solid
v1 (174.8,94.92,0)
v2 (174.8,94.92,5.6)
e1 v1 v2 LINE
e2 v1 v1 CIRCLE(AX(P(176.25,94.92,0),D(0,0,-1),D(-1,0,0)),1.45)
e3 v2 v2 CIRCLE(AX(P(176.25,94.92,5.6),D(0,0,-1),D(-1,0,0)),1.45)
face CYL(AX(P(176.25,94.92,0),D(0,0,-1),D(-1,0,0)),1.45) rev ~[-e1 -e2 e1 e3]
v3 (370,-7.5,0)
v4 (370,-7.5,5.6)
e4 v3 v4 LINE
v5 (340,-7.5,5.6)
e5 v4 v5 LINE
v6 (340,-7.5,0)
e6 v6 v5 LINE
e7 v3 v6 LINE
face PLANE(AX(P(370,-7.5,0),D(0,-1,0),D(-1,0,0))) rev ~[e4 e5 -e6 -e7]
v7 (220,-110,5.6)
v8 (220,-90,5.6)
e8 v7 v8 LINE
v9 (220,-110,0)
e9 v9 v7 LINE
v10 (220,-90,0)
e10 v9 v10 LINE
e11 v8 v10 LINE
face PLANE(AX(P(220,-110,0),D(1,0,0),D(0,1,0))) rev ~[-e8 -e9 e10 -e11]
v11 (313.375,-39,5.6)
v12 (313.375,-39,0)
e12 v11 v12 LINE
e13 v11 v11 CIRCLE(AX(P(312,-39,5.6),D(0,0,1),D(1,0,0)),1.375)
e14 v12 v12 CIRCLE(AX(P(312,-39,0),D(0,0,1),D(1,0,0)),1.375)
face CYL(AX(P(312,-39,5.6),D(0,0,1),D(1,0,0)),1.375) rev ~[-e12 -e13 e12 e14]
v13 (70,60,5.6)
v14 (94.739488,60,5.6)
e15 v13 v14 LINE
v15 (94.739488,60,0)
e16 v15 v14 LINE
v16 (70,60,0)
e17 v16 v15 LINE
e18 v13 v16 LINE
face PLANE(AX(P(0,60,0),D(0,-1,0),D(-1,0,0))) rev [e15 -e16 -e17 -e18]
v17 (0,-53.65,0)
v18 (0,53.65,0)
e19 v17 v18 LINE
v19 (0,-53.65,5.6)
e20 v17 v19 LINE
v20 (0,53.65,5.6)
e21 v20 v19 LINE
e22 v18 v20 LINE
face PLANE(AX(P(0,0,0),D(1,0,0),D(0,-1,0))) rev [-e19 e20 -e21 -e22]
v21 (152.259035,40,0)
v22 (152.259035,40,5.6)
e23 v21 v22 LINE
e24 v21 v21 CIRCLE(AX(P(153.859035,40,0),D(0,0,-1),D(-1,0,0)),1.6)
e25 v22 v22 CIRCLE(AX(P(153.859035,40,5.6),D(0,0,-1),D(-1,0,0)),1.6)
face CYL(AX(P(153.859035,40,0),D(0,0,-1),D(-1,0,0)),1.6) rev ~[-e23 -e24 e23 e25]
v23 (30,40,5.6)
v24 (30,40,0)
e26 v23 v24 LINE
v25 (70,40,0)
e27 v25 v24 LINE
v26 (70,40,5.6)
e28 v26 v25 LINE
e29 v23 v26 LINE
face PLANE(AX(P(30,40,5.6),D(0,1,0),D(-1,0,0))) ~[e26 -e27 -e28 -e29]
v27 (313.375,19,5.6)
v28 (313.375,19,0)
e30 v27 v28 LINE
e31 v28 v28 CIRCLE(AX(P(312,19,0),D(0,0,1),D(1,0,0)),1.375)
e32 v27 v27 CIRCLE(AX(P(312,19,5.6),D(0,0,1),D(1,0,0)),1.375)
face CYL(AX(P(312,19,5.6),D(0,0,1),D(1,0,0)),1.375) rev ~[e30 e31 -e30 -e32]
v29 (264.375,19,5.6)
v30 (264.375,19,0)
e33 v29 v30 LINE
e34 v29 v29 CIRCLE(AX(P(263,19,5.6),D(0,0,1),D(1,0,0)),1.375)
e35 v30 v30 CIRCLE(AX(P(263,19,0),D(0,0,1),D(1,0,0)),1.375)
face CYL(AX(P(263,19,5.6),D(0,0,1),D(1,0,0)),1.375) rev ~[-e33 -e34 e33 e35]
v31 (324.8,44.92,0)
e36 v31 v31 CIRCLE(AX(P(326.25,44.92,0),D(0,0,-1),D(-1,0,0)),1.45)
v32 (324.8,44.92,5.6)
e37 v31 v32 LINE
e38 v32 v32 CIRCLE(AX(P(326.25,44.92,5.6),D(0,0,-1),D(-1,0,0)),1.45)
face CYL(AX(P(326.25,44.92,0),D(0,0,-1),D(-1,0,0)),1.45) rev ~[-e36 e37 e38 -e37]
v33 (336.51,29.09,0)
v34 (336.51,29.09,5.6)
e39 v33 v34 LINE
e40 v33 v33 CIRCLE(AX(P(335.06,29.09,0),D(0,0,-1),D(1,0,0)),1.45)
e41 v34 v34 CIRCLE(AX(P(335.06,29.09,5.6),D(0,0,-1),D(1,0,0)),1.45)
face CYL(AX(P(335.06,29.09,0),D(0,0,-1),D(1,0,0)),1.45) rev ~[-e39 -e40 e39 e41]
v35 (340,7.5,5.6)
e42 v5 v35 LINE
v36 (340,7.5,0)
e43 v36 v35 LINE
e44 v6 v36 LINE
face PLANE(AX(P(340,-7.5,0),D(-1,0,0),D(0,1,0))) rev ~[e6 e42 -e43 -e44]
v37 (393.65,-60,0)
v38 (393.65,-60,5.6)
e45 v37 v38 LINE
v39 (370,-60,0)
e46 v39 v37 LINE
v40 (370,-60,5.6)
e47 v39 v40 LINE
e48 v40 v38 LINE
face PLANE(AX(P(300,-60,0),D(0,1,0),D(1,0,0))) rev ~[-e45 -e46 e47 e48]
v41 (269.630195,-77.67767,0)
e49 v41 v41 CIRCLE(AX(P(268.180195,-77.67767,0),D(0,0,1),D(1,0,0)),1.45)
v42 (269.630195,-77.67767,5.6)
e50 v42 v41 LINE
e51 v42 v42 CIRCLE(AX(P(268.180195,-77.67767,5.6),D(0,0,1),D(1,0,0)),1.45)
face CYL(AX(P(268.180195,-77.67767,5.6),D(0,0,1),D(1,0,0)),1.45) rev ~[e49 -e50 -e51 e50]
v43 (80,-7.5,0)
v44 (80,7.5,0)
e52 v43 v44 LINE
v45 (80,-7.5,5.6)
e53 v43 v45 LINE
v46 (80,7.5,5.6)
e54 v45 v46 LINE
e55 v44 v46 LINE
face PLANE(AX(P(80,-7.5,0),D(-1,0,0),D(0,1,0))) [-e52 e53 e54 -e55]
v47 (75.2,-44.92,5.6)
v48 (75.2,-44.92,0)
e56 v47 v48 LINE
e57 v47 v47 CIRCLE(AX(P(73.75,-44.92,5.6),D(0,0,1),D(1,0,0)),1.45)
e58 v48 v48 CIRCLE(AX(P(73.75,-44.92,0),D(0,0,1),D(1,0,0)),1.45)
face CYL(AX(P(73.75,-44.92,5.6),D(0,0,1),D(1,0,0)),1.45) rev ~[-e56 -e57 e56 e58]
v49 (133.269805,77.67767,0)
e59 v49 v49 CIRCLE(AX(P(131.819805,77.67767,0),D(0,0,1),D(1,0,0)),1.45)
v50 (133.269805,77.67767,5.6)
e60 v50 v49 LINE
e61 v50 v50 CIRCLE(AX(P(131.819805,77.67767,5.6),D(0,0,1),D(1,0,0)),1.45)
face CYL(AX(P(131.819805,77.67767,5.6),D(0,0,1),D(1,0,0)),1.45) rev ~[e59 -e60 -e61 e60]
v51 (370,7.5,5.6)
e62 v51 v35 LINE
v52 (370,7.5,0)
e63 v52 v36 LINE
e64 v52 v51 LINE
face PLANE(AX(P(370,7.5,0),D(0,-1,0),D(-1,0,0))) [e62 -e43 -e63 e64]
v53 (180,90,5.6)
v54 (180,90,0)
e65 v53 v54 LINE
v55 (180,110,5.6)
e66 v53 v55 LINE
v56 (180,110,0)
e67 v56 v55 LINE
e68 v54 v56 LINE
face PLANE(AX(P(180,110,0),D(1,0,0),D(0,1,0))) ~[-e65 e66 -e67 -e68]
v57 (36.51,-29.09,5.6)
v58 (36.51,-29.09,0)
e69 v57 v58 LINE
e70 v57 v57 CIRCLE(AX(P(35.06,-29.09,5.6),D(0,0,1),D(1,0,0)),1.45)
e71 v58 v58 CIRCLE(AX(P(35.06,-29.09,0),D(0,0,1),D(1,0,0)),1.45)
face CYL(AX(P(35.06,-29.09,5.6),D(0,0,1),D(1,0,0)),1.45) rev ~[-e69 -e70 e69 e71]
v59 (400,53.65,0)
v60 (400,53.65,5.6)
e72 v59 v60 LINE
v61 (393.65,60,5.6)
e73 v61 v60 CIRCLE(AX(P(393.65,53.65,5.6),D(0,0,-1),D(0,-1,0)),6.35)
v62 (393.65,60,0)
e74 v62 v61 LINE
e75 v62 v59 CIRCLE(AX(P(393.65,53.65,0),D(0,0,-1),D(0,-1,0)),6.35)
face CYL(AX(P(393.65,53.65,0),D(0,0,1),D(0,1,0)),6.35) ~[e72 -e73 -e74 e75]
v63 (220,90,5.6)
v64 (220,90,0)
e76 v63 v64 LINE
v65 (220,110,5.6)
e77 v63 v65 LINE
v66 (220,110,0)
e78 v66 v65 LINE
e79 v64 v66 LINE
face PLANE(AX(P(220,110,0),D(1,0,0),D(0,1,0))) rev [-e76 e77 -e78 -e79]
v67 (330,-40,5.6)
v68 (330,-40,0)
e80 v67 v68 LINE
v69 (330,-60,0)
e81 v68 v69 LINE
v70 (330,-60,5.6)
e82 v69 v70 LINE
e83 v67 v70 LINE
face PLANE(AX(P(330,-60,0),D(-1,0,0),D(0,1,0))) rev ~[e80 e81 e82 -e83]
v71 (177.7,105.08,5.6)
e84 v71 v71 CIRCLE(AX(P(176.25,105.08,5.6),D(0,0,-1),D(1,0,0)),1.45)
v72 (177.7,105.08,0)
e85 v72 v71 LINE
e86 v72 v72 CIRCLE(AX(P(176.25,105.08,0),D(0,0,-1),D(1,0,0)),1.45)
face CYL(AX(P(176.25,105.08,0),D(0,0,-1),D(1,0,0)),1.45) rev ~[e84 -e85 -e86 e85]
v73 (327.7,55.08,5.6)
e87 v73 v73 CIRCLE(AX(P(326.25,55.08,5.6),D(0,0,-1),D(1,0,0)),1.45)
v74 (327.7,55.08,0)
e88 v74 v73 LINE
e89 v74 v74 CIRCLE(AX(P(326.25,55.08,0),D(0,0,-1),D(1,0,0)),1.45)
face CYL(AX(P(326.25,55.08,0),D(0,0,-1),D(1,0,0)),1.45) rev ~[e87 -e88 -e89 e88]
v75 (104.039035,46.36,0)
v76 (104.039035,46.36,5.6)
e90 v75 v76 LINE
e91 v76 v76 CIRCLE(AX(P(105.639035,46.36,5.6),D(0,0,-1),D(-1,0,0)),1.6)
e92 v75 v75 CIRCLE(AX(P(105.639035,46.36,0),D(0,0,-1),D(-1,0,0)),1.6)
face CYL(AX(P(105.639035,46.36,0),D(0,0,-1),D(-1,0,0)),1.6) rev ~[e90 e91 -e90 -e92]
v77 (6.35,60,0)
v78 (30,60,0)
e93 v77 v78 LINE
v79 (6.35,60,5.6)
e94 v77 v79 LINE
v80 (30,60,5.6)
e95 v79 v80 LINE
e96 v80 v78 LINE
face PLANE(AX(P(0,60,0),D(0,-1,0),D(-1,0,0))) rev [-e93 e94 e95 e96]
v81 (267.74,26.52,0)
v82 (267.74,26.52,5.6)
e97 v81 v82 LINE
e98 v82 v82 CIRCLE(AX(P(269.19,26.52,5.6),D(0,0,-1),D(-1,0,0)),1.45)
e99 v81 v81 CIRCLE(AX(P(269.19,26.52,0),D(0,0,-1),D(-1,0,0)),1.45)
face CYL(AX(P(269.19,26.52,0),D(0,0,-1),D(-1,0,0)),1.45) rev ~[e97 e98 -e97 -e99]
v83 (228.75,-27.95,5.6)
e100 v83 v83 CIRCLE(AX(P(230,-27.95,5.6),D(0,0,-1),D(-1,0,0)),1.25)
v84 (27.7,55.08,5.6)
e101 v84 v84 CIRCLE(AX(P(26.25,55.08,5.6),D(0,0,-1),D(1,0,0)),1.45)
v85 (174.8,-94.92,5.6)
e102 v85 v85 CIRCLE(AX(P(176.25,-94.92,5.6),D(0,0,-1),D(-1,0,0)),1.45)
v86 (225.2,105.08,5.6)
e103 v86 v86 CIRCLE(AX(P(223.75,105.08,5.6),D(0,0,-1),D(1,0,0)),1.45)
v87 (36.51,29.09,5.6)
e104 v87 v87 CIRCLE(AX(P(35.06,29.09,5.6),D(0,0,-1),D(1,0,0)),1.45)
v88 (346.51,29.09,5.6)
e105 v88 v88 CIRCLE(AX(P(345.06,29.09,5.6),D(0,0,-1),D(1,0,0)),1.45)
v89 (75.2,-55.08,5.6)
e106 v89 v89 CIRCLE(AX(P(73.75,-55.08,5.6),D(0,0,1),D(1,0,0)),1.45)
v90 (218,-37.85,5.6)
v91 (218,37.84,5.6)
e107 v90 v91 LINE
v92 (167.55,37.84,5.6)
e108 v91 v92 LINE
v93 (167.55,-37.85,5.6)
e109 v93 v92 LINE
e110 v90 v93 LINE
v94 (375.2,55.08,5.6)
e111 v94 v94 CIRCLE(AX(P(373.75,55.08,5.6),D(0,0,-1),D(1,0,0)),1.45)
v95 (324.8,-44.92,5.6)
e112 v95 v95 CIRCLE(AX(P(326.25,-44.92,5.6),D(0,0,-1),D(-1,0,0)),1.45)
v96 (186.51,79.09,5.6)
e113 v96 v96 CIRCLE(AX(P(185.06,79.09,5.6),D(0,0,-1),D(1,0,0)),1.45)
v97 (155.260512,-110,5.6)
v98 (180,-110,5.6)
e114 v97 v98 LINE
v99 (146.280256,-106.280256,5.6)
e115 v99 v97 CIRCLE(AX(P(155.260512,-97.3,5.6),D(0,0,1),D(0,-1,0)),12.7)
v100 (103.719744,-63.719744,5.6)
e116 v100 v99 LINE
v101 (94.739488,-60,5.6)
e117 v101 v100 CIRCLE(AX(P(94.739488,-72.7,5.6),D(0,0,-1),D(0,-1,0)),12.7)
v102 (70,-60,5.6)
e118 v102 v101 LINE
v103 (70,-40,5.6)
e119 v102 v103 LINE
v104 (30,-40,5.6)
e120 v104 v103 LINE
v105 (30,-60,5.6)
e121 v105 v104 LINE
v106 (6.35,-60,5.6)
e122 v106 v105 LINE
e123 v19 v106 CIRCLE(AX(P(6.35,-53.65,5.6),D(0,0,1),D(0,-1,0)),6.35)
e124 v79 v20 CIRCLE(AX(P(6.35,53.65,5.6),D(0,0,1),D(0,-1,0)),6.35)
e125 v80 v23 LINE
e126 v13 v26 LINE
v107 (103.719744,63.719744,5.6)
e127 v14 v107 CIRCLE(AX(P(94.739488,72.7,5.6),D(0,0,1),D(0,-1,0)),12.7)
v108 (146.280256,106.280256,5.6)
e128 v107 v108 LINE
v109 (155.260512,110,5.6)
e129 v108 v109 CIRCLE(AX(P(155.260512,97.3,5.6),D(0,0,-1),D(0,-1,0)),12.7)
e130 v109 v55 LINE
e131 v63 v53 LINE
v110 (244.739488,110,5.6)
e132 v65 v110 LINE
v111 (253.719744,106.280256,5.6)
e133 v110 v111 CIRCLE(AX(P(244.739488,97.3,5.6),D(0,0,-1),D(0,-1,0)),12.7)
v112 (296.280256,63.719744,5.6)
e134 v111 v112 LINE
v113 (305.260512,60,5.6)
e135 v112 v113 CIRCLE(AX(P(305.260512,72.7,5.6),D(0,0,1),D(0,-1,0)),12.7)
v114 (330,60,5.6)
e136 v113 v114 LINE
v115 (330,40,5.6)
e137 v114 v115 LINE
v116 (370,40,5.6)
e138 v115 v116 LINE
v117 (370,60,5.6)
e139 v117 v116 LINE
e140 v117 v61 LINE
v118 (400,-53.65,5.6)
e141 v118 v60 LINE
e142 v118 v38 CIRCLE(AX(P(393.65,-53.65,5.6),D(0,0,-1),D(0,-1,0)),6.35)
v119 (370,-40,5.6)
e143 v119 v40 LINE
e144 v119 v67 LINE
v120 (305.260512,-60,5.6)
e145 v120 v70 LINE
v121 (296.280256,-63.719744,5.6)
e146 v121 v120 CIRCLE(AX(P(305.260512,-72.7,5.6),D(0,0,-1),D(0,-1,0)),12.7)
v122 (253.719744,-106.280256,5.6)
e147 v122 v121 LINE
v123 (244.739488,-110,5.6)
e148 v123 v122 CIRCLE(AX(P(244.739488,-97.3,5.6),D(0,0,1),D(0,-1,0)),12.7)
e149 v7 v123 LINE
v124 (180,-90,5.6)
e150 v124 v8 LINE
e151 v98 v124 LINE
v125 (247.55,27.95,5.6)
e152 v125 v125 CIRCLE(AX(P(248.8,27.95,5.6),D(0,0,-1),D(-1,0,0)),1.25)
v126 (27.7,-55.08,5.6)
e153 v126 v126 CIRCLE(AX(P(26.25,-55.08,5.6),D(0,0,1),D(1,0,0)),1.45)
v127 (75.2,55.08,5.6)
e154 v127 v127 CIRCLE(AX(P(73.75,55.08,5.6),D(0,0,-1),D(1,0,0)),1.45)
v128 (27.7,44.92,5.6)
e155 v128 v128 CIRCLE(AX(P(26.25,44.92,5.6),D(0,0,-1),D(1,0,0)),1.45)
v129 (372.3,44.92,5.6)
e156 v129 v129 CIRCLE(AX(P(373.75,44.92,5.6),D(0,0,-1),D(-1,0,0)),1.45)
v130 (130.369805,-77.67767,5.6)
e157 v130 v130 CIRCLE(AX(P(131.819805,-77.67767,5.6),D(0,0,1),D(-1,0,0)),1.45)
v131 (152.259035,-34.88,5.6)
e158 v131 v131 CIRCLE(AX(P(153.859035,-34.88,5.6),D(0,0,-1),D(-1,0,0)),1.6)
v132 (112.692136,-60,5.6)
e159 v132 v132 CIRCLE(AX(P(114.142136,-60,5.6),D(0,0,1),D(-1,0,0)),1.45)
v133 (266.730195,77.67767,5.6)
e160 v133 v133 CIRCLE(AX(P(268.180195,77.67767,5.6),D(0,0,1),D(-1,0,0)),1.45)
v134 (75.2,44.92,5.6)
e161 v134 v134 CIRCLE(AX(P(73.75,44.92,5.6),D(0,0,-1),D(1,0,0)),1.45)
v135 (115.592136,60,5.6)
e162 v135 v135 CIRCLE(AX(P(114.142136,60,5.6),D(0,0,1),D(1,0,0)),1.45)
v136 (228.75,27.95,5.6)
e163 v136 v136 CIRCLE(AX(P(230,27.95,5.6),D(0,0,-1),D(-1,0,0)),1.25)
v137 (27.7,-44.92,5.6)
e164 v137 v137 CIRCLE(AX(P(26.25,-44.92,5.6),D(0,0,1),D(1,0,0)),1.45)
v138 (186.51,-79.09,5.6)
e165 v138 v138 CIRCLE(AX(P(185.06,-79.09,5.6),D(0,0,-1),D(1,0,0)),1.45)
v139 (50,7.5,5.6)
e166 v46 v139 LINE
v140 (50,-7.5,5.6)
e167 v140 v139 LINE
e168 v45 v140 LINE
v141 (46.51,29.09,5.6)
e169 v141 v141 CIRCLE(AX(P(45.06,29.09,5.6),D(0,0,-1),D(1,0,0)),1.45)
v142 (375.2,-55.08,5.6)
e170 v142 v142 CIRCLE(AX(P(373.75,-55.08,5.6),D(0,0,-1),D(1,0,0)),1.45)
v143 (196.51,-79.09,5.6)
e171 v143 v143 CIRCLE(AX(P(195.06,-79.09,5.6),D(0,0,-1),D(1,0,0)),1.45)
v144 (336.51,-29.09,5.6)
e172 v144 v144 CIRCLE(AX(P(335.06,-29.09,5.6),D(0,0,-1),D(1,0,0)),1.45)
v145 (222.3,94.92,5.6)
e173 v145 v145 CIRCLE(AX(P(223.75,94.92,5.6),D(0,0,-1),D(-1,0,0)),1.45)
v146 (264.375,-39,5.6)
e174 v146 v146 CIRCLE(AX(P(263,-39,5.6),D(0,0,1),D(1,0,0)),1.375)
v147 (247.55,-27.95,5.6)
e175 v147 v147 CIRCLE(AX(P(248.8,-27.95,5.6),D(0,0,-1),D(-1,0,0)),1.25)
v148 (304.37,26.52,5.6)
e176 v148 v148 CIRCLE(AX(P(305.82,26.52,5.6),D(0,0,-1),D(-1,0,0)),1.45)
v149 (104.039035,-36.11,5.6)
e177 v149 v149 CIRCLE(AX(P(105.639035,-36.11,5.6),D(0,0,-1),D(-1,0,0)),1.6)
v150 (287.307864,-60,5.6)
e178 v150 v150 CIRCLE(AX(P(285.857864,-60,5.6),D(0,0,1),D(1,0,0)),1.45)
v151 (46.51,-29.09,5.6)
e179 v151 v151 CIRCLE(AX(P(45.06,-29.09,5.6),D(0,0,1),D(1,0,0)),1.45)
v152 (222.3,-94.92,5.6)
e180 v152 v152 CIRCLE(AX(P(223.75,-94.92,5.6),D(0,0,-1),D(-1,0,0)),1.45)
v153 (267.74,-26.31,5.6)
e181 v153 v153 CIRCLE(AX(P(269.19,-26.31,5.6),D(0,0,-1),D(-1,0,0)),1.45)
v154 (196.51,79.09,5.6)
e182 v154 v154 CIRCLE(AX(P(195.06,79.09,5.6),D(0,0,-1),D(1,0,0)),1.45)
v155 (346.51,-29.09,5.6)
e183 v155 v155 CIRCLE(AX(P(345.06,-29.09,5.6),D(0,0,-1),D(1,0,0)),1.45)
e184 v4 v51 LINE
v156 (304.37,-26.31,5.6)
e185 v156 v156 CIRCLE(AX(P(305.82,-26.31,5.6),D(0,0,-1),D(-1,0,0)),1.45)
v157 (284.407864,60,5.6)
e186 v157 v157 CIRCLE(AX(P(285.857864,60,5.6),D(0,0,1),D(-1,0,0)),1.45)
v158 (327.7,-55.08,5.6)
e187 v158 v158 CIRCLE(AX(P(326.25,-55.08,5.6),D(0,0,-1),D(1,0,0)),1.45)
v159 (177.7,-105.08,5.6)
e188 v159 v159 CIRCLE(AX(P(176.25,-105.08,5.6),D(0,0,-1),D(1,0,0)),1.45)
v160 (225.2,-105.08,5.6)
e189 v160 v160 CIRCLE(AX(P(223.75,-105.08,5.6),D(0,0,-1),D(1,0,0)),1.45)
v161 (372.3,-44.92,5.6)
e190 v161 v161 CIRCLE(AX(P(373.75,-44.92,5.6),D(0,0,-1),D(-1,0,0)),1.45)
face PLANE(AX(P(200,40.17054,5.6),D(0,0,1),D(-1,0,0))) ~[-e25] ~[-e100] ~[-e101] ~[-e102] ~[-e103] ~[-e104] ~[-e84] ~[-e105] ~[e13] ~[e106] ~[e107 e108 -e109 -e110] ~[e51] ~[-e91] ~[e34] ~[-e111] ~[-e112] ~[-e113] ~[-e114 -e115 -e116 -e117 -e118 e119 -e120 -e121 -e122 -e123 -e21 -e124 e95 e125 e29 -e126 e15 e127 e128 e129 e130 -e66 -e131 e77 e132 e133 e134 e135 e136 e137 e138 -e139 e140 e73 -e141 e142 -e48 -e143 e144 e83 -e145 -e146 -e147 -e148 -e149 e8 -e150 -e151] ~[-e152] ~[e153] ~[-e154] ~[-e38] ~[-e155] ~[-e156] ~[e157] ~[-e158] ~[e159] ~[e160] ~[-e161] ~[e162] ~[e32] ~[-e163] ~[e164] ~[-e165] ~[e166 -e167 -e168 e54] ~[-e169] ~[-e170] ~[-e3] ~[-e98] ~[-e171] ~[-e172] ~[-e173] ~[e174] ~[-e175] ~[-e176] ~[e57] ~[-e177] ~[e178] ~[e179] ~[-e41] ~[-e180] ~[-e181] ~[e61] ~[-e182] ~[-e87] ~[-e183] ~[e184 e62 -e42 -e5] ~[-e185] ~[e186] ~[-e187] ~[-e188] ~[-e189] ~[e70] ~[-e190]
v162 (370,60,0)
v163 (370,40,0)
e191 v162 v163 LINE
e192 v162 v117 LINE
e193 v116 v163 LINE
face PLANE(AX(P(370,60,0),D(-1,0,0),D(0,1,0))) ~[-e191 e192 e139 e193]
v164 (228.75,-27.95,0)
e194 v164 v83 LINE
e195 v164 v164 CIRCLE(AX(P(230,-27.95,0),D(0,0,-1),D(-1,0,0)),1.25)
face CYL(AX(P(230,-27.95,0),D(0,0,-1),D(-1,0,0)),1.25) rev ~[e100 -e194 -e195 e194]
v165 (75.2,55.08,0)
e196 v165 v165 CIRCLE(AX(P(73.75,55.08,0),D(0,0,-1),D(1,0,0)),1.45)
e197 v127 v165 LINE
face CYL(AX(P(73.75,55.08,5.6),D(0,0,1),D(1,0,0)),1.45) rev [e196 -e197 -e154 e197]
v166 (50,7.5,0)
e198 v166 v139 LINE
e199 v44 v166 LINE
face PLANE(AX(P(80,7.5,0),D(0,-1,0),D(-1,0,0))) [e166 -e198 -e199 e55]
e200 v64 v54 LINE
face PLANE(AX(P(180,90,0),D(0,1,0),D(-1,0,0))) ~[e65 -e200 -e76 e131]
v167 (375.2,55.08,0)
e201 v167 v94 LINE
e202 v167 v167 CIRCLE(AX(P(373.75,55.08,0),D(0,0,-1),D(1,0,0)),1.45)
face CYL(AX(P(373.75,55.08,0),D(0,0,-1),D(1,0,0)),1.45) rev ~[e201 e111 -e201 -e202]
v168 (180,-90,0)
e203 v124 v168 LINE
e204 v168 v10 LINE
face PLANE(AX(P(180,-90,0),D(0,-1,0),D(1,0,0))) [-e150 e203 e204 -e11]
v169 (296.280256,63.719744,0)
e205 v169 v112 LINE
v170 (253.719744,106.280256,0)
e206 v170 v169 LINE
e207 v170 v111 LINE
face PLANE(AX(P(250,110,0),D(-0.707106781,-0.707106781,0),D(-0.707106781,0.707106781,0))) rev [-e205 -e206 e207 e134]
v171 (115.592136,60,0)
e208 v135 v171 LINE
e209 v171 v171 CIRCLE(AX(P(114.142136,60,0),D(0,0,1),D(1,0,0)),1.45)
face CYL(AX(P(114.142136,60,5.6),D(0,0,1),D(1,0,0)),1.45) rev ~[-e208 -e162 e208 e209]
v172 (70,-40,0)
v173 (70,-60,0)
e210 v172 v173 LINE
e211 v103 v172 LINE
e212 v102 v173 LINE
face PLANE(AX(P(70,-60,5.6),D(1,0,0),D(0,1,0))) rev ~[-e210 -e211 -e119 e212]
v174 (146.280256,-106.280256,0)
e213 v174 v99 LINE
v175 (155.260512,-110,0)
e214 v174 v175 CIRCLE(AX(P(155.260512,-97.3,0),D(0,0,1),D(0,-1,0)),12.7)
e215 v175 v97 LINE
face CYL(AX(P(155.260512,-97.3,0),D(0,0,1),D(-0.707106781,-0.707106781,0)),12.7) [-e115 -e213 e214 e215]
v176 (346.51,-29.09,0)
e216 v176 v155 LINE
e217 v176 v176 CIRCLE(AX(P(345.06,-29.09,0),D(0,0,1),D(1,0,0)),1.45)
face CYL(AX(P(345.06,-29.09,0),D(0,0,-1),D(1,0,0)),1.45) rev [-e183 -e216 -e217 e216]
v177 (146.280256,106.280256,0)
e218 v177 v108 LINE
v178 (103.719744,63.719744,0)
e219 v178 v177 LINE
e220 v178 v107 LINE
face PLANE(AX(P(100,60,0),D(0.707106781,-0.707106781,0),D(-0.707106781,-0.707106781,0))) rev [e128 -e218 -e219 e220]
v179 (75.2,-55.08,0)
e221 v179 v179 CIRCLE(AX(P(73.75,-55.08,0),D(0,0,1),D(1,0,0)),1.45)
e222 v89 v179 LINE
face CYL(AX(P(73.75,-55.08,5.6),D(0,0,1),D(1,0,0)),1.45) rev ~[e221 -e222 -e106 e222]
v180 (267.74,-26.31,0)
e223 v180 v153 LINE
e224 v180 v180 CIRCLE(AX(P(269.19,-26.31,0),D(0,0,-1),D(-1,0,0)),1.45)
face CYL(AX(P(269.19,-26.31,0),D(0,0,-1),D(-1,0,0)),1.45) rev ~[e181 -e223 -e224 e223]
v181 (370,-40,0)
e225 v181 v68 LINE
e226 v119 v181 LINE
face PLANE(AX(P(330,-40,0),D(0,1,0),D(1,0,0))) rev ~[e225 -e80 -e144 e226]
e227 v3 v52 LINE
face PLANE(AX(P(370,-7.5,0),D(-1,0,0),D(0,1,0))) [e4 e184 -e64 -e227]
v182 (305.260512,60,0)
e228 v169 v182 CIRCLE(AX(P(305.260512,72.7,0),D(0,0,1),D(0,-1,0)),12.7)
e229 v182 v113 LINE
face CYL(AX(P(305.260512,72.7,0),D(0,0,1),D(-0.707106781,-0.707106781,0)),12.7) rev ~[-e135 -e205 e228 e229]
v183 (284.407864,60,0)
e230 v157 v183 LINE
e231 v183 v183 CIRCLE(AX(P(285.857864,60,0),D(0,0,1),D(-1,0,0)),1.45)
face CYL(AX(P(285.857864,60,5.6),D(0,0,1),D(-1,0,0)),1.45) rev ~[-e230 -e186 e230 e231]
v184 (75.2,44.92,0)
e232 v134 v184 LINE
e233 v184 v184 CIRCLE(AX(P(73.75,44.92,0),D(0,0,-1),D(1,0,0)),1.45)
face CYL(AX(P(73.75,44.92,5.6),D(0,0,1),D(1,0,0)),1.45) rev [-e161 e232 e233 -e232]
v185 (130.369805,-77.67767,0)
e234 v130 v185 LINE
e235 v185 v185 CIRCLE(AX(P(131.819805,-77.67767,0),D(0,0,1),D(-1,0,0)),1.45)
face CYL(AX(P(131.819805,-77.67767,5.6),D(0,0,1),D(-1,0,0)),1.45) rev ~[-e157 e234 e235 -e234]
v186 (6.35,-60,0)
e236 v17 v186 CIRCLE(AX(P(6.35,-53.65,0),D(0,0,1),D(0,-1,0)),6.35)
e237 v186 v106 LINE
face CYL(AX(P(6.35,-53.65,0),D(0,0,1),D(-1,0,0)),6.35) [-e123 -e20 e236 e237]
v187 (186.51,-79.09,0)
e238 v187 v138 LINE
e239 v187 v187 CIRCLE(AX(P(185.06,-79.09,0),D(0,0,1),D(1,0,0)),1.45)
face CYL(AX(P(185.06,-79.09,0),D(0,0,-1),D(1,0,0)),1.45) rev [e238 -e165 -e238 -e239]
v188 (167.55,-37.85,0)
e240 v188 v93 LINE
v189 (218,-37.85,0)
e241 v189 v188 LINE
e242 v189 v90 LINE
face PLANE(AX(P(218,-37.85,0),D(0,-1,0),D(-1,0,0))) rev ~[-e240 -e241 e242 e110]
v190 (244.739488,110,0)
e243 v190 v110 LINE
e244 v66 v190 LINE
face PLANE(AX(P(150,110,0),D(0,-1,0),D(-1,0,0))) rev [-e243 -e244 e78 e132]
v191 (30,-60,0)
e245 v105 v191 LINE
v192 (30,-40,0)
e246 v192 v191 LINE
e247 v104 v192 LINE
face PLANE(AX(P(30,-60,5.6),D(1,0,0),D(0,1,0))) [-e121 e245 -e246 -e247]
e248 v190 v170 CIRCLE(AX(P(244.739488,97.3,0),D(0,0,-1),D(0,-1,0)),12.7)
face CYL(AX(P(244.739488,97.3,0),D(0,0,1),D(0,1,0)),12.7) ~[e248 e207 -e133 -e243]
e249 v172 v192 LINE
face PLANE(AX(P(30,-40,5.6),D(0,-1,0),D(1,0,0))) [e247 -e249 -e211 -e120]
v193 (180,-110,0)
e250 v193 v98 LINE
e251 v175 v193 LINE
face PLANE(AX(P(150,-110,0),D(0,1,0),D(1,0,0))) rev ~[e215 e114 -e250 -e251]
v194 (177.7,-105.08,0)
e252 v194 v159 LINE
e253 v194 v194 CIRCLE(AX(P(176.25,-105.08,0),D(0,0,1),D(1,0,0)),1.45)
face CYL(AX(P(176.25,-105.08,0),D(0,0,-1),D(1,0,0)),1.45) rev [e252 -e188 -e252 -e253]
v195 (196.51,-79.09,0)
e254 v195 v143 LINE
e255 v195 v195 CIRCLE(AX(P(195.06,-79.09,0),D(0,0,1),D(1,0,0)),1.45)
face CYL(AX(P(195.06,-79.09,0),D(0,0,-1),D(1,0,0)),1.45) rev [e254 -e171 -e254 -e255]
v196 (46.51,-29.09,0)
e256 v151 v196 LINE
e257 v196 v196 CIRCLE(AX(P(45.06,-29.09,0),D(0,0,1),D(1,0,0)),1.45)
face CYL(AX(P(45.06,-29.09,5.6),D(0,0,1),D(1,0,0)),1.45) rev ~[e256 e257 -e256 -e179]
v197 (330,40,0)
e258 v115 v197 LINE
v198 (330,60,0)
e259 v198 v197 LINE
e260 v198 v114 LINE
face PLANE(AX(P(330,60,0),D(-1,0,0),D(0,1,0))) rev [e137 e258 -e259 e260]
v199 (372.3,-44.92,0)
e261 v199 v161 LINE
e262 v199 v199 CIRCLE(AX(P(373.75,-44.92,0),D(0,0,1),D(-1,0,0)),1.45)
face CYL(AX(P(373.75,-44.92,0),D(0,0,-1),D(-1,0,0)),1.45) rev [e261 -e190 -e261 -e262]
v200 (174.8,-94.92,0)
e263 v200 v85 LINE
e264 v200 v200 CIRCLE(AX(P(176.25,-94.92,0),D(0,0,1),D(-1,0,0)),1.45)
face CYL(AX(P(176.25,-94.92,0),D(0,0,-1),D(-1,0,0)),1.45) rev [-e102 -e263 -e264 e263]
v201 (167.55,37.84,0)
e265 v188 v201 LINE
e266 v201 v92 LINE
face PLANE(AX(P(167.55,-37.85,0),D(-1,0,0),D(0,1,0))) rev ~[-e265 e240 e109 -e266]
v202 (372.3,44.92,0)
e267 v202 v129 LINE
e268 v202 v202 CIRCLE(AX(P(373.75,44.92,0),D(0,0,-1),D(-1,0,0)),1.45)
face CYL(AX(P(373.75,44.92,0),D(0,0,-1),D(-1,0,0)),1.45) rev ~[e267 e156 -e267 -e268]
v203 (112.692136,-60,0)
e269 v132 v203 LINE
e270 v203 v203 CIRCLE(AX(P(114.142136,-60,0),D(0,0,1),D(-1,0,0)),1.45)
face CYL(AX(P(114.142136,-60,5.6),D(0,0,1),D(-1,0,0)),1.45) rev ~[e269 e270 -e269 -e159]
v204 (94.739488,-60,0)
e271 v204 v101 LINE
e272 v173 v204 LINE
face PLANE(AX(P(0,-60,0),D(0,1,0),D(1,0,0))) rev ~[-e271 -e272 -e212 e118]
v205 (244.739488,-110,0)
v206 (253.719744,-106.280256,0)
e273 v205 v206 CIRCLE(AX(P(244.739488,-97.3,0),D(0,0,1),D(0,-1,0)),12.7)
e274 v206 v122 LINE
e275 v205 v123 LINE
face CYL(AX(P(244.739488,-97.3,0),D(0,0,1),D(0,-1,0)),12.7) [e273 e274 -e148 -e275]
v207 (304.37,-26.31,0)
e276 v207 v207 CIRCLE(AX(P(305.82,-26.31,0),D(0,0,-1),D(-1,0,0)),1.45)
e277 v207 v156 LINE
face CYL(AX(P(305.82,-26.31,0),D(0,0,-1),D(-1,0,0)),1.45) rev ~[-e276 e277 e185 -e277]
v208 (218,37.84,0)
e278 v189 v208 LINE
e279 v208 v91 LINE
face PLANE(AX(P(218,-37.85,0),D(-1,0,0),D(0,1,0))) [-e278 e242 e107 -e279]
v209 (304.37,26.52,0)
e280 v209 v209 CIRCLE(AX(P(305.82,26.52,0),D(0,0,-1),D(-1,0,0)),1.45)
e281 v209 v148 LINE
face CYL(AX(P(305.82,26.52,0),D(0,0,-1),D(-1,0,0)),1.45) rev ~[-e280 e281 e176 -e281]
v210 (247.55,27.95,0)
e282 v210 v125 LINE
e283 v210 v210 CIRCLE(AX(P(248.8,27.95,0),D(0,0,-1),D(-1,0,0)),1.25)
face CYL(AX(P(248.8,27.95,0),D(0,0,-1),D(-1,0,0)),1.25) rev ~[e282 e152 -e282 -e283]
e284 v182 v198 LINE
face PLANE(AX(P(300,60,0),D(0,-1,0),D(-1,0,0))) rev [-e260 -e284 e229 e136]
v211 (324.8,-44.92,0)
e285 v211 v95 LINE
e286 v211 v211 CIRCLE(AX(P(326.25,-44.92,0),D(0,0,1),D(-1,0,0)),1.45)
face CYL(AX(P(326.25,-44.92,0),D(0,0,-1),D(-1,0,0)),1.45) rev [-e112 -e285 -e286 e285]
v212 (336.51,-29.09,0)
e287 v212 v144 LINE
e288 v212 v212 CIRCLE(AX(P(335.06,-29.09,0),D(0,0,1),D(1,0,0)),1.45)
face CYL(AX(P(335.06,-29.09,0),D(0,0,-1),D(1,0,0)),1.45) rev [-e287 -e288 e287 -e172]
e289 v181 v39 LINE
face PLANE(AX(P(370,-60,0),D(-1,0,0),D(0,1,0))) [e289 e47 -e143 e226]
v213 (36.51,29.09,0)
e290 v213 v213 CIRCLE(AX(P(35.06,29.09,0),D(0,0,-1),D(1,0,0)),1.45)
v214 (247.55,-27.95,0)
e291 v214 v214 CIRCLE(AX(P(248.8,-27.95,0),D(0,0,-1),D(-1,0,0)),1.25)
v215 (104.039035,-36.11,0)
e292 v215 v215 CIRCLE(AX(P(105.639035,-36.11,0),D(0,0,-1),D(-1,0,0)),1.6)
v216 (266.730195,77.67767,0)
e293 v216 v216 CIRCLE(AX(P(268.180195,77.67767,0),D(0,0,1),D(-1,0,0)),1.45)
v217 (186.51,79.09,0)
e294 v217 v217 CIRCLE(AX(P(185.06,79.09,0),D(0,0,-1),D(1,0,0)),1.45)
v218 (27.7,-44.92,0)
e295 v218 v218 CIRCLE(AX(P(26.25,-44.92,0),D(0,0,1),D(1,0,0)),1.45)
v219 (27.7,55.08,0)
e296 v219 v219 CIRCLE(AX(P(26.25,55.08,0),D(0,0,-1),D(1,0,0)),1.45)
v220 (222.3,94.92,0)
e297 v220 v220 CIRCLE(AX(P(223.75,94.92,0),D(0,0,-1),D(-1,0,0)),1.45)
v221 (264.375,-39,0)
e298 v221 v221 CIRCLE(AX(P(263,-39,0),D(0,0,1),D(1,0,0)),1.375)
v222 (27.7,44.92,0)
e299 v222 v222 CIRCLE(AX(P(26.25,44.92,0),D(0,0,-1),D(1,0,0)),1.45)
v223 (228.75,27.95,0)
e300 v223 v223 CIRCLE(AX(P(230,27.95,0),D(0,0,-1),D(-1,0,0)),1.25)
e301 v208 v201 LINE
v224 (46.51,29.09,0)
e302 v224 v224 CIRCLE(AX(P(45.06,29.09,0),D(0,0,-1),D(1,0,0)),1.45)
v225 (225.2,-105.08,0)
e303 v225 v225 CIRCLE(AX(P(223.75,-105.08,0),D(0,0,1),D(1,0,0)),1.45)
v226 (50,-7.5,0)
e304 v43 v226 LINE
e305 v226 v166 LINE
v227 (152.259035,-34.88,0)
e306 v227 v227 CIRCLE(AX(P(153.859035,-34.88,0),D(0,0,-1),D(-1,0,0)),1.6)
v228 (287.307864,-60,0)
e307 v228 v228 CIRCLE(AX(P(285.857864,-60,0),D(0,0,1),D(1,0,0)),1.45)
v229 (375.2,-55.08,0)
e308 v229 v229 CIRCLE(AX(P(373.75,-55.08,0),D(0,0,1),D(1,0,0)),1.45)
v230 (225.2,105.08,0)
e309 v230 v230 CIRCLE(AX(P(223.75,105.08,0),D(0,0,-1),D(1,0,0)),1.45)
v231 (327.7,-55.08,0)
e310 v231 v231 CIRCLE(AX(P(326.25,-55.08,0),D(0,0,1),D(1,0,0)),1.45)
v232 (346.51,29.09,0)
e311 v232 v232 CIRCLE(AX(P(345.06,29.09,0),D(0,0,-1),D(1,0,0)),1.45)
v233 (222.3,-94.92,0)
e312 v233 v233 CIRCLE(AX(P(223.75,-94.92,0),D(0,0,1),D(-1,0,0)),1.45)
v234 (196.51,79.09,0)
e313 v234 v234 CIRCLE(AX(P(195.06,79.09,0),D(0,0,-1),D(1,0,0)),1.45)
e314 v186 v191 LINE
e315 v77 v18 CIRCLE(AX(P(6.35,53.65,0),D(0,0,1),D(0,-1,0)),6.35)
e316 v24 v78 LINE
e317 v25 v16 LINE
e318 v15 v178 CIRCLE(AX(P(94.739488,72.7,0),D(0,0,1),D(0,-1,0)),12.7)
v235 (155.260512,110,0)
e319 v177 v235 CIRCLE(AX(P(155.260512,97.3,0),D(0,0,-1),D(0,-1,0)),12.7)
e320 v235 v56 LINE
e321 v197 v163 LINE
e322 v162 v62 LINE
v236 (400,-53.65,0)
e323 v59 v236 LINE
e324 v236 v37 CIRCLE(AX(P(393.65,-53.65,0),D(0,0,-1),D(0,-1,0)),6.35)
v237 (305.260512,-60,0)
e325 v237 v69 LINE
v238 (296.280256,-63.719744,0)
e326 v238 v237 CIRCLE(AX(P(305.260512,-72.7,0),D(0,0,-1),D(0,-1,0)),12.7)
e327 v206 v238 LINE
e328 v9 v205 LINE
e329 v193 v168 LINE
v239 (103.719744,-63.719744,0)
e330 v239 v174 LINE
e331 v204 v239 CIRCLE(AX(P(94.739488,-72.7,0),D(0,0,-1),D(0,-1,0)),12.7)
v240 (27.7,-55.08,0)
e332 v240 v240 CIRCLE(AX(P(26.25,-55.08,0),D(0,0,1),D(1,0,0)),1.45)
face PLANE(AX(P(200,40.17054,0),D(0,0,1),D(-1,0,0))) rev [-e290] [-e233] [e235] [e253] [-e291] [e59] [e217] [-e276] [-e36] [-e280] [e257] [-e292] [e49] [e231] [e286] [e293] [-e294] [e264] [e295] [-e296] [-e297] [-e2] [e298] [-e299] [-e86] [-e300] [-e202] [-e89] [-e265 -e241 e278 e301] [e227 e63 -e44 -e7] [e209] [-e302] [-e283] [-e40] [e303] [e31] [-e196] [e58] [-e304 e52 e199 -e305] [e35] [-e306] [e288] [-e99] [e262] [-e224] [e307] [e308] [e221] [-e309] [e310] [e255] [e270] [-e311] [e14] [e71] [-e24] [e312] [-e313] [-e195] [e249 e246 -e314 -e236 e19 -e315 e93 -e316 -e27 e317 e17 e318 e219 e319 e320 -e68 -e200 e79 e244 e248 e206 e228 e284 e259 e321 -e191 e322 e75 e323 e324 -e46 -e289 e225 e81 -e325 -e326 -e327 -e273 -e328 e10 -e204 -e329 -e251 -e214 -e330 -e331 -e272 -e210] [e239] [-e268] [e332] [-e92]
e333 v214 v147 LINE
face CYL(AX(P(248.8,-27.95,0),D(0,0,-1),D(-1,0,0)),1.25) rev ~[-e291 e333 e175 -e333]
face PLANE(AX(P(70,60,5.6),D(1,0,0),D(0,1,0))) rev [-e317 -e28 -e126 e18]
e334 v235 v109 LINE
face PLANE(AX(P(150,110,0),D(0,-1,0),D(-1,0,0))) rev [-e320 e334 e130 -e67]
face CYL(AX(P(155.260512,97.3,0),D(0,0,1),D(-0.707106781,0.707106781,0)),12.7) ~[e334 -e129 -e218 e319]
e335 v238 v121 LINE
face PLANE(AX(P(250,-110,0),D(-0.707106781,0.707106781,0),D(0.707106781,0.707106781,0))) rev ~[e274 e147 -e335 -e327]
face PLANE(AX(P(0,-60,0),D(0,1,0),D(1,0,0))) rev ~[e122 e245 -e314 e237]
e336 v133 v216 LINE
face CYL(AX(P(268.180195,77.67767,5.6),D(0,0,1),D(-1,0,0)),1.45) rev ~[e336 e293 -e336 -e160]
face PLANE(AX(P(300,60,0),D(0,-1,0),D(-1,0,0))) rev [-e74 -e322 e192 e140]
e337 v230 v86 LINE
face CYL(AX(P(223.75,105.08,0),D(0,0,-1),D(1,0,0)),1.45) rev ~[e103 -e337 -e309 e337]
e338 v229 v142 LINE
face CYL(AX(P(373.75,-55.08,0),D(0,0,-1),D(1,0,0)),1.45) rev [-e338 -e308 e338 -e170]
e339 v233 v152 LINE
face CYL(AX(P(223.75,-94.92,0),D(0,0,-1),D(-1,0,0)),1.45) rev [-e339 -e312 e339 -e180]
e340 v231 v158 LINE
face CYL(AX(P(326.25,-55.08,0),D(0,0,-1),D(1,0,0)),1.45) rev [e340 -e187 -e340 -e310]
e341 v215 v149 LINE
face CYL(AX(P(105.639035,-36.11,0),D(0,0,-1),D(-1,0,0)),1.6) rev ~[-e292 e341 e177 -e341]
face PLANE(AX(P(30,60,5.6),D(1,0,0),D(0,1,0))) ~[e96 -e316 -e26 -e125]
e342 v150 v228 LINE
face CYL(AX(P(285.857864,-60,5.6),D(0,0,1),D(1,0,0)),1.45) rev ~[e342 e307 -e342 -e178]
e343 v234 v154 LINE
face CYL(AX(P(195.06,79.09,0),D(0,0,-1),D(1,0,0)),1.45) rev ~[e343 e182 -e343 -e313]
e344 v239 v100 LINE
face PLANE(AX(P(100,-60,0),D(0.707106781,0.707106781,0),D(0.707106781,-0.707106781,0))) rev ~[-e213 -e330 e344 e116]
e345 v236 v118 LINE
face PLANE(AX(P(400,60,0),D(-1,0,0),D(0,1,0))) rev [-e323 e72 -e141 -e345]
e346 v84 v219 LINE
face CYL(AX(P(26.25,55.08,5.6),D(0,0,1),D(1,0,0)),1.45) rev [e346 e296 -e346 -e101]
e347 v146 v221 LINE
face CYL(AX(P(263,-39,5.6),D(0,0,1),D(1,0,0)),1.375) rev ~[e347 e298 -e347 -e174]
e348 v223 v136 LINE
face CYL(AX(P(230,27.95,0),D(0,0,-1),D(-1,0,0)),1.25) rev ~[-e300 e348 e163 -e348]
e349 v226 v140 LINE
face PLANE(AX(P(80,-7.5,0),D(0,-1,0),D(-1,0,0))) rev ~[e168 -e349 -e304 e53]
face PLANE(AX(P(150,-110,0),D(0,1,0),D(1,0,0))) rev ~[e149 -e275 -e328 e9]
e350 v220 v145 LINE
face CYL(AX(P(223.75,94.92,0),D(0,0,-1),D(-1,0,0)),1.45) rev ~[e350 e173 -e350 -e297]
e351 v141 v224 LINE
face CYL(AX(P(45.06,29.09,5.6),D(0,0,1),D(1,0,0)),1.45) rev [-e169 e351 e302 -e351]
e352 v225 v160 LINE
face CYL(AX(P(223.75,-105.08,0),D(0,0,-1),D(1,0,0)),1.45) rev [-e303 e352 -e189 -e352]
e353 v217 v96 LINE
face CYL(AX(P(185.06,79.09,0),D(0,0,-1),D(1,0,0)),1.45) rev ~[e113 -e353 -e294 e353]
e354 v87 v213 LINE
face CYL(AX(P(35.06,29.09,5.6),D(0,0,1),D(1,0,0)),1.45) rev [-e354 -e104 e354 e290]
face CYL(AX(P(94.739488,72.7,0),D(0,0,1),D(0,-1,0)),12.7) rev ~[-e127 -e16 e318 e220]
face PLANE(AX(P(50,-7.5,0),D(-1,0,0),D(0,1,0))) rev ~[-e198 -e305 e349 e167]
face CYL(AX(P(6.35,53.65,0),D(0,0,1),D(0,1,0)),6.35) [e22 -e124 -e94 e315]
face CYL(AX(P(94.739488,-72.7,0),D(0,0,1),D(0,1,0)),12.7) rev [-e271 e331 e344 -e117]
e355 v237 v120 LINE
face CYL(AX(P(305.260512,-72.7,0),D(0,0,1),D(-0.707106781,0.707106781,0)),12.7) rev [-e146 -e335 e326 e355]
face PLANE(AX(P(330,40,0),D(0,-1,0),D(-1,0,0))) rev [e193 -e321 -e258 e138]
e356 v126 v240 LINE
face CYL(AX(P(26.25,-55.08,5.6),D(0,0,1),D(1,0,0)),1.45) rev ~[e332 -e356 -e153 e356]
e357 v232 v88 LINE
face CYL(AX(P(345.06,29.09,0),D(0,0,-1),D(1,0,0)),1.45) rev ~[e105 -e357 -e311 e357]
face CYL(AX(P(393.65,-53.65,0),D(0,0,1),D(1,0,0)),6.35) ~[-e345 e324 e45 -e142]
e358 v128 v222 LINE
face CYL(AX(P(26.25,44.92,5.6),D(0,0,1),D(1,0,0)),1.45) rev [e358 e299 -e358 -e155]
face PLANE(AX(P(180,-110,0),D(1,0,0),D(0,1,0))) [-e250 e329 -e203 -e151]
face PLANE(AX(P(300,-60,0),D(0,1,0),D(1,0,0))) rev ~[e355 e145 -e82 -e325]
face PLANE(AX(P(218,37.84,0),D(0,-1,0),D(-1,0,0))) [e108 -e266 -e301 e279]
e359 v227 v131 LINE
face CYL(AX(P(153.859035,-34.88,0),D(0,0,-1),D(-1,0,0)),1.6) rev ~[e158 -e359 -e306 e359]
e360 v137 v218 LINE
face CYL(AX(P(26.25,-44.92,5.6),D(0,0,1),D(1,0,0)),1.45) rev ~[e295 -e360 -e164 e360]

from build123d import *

# Parameters (mm, degrees)
BOSS_EXTRU_1_DEPTH       = 5.6
ENL_V_MAT_EXTRU_1_REACH  = 416.887
ESQUISSE2_W              = 40
ESQUISSE2_H              = 20
ENL_V_MAT_EXTRU_2_REACH  = 416.887
ESQUISSE3_R              = 1.45
SKETCH2_W                = 40
SKETCH2_H                = 20
CUT_EXTRUDE2_DEPTH       = 415.887165384
SKETCH5_R                = 1.45
CUT_EXTRUDE4_DEPTH       = 415.887165384
ESQUISSE4_R              = 1.375
ENL_V_MAT_EXTRU_4_DEPTH  = 415.887165384
ESQUISSE6_R              = 1.45
ENL_V_MAT_EXTRU_6_DEPTH  = 415.887165384
ESQUISSE8_R              = 1.25
ENL_V_MAT_EXTRU_7_DEPTH  = 415.887165384
ESQUISSE9_R              = 1.6
ENL_V_MAT_EXTRU_8_DEPTH  = 415.887165384
ESQUISSE10_W             = 50.45
ESQUISSE10_H             = 75.69
ENL_V_MAT_EXTRU_9_DEPTH  = 415.887165384
ESQUISSE11_W             = 30
ESQUISSE11_H             = 15
ENL_V_MAT_EXTRU_10_DEPTH = 415.887165384
ESQUISSE12_R             = 1.45
ENL_V_MAT_EXTRU_11_DEPTH = 415.887165384
FILLET1_R                = 6.35
FILLET2_R                = 12.7


with BuildPart() as part:
    # Esquisse1 → Boss.-Extru.1 (new body)
    with BuildSketch(Plane.XY):
        Polygon((100, -60), (150, -110), (250, -110), (300, -60), (400, -60), (400, 0), (25.838605695, 0), (0, 0), (0, -60), align=None)
    boss_extru_1 = extrude(amount=BOSS_EXTRU_1_DEPTH)

    # Esquisse2 → Enlèv. mat.-Extru.1 (cut, up to next)
    with BuildSketch(Plane.XY.offset(5.6), mode=Mode.PRIVATE) as enl_v_mat_extru_1_sk1:
        with Locations((50, -50)):
            Rectangle(ESQUISSE2_W, ESQUISSE2_H)
    enl_v_mat_extru_1_tool1 = extrude(enl_v_mat_extru_1_sk1.sketch, amount=-ENL_V_MAT_EXTRU_1_REACH, mode=Mode.PRIVATE) & part.part
    enl_v_mat_extru_1 = enl_v_mat_extru_1_tool1.solids().sort_by_distance((50, -50, 5.6))[0]
    add(enl_v_mat_extru_1, mode=Mode.SUBTRACT)

    # Esquisse3 → Enlèv. mat.-Extru.2 (cut, up to next)
    with BuildSketch(Plane.XY.offset(5.6), mode=Mode.PRIVATE) as enl_v_mat_extru_2_sk1:
        with Locations((26.25, -55.08)):
            Circle(ESQUISSE3_R)
    enl_v_mat_extru_2_tool1 = extrude(enl_v_mat_extru_2_sk1.sketch, amount=-ENL_V_MAT_EXTRU_2_REACH, mode=Mode.PRIVATE) & part.part
    # Esquisse3 → Enlèv. mat.-Extru.2 (cut, up to next)
    with BuildSketch(Plane.XY.offset(5.6), mode=Mode.PRIVATE) as enl_v_mat_extru_2_sk2:
        with Locations((73.75, -55.08)):
            Circle(ESQUISSE3_R)
    enl_v_mat_extru_2_tool2 = extrude(enl_v_mat_extru_2_sk2.sketch, amount=-ENL_V_MAT_EXTRU_2_REACH, mode=Mode.PRIVATE) & part.part
    # Esquisse3 → Enlèv. mat.-Extru.2 (cut, up to next)
    with BuildSketch(Plane.XY.offset(5.6), mode=Mode.PRIVATE) as enl_v_mat_extru_2_sk3:
        with Locations((73.75, -44.92)):
            Circle(ESQUISSE3_R)
    enl_v_mat_extru_2_tool3 = extrude(enl_v_mat_extru_2_sk3.sketch, amount=-ENL_V_MAT_EXTRU_2_REACH, mode=Mode.PRIVATE) & part.part
    # Esquisse3 → Enlèv. mat.-Extru.2 (cut, up to next)
    with BuildSketch(Plane.XY.offset(5.6), mode=Mode.PRIVATE) as enl_v_mat_extru_2_sk4:
        with Locations((26.25, -44.92)):
            Circle(ESQUISSE3_R)
    enl_v_mat_extru_2_tool4 = extrude(enl_v_mat_extru_2_sk4.sketch, amount=-ENL_V_MAT_EXTRU_2_REACH, mode=Mode.PRIVATE) & part.part
    # Esquisse3 → Enlèv. mat.-Extru.2 (cut, up to next)
    with BuildSketch(Plane.XY.offset(5.6), mode=Mode.PRIVATE) as enl_v_mat_extru_2_sk5:
        with Locations((35.06, -29.09)):
            Circle(ESQUISSE3_R)
    enl_v_mat_extru_2_tool5 = extrude(enl_v_mat_extru_2_sk5.sketch, amount=-ENL_V_MAT_EXTRU_2_REACH, mode=Mode.PRIVATE) & part.part
    # Esquisse3 → Enlèv. mat.-Extru.2 (cut, up to next)
    with BuildSketch(Plane.XY.offset(5.6), mode=Mode.PRIVATE) as enl_v_mat_extru_2_sk6:
        with Locations((45.06, -29.09)):
            Circle(ESQUISSE3_R)
    enl_v_mat_extru_2_tool6 = extrude(enl_v_mat_extru_2_sk6.sketch, amount=-ENL_V_MAT_EXTRU_2_REACH, mode=Mode.PRIVATE) & part.part
    enl_v_mat_extru_2_1 = enl_v_mat_extru_2_tool1.solids().sort_by_distance((26.25, -55.08, 5.6))[0]
    add(enl_v_mat_extru_2_1, mode=Mode.SUBTRACT)
    enl_v_mat_extru_2_2 = enl_v_mat_extru_2_tool2.solids().sort_by_distance((73.75, -55.08, 5.6))[0]
    add(enl_v_mat_extru_2_2, mode=Mode.SUBTRACT)
    enl_v_mat_extru_2_3 = enl_v_mat_extru_2_tool3.solids().sort_by_distance((73.75, -44.92, 5.6))[0]
    add(enl_v_mat_extru_2_3, mode=Mode.SUBTRACT)
    enl_v_mat_extru_2_4 = enl_v_mat_extru_2_tool4.solids().sort_by_distance((26.25, -44.92, 5.6))[0]
    add(enl_v_mat_extru_2_4, mode=Mode.SUBTRACT)
    enl_v_mat_extru_2_5 = enl_v_mat_extru_2_tool5.solids().sort_by_distance((35.06, -29.09, 5.6))[0]
    add(enl_v_mat_extru_2_5, mode=Mode.SUBTRACT)
    enl_v_mat_extru_2_6 = enl_v_mat_extru_2_tool6.solids().sort_by_distance((45.06, -29.09, 5.6))[0]
    add(enl_v_mat_extru_2_6, mode=Mode.SUBTRACT)
    enl_v_mat_extru_2 = enl_v_mat_extru_2_1 + enl_v_mat_extru_2_2 + enl_v_mat_extru_2_3 + enl_v_mat_extru_2_4 + enl_v_mat_extru_2_5 + enl_v_mat_extru_2_6  # Enlèv. mat.-Extru.2 as one shape, for the pattern or mirror that repeats it

    # Sketch2 → Cut-Extrude2 (cut, symmetric)
    with BuildSketch(Plane.XY):
        with Locations((350, -50)):
            Rectangle(SKETCH2_W, SKETCH2_H)
        with Locations((200, -100)):
            Rectangle(SKETCH2_W, SKETCH2_H)
    cut_extrude2 = extrude(amount=CUT_EXTRUDE2_DEPTH, both=True, mode=Mode.SUBTRACT)

    # Sketch5 → Cut-Extrude4 (cut, through all)
    with BuildSketch(Plane.XY):
        with Locations((176.25, -105.08)):
            Circle(SKETCH5_R)
        with Locations((223.75, -105.08)):
            Circle(SKETCH5_R)
        with Locations(Location((223.75, -94.92, 0), (0, 0, 180))):
            Circle(SKETCH5_R)
        with Locations(Location((176.25, -94.92, 0), (0, 0, 180))):
            Circle(SKETCH5_R)
        with Locations((326.25, -55.08)):
            Circle(SKETCH5_R)
        with Locations((373.75, -55.08)):
            Circle(SKETCH5_R)
        with Locations(Location((373.75, -44.92, 0), (0, 0, 180))):
            Circle(SKETCH5_R)
        with Locations(Location((326.25, -44.92, 0), (0, 0, 180))):
            Circle(SKETCH5_R)
        with Locations((185.06, -79.09)):
            Circle(SKETCH5_R)
        with Locations((195.06, -79.09)):
            Circle(SKETCH5_R)
        with Locations((335.06, -29.09)):
            Circle(SKETCH5_R)
        with Locations((345.06, -29.09)):
            Circle(SKETCH5_R)
    cut_extrude4 = extrude(amount=CUT_EXTRUDE4_DEPTH, mode=Mode.SUBTRACT)

    # Mirror1: Boss.-Extru.1, Enlèv. mat.-Extru.1, Enlèv. mat.-Extru.2, Cut-Extrude2, Cut-Extrude4 across plane
    add(boss_extru_1.mirror(Plane.ZX))
    add(enl_v_mat_extru_1.mirror(Plane.ZX), mode=Mode.SUBTRACT)
    add(enl_v_mat_extru_2.mirror(Plane.ZX), mode=Mode.SUBTRACT)
    add(cut_extrude2.mirror(Plane.ZX), mode=Mode.SUBTRACT)
    add(cut_extrude4.mirror(Plane.ZX), mode=Mode.SUBTRACT)

    # Esquisse4 → Enlèv. mat.-Extru.4 (cut, through all)
    with BuildSketch(Plane.XY.offset(5.6)):
        with Locations((263, -39)):
            Circle(ESQUISSE4_R)
        with Locations((312, -39)):
            Circle(ESQUISSE4_R)
        with Locations((312, 19)):
            Circle(ESQUISSE4_R)
        with Locations((263, 19)):
            Circle(ESQUISSE4_R)
    extrude(amount=-ENL_V_MAT_EXTRU_4_DEPTH, mode=Mode.SUBTRACT)

    # Esquisse6 → Enlèv. mat.-Extru.6 (cut, through all)
    with BuildSketch(Plane(origin=(0, 0, 0), x_dir=(-1, 0, 0), z_dir=(0, 0, -1))):
        with Locations((-269.19, -26.31)):
            Circle(ESQUISSE6_R)
        with Locations((-305.82, -26.31)):
            Circle(ESQUISSE6_R)
        with Locations((-305.82, 26.52)):
            Circle(ESQUISSE6_R)
        with Locations((-269.19, 26.52)):
            Circle(ESQUISSE6_R)
    extrude(amount=-ENL_V_MAT_EXTRU_6_DEPTH, mode=Mode.SUBTRACT)

    # Esquisse8 → Enlèv. mat.-Extru.7 (cut, through all)
    with BuildSketch(Plane(origin=(0, 0, 0), x_dir=(-1, 0, 0), z_dir=(0, 0, -1))):
        with Locations((-230, 27.95)):
            Circle(ESQUISSE8_R)
        with Locations((-248.8, 27.95)):
            Circle(ESQUISSE8_R)
        with Locations((-248.8, -27.95)):
            Circle(ESQUISSE8_R)
        with Locations((-230, -27.95)):
            Circle(ESQUISSE8_R)
    extrude(amount=-ENL_V_MAT_EXTRU_7_DEPTH, mode=Mode.SUBTRACT)

    # Esquisse9 → Enlèv. mat.-Extru.8 (cut, through all)
    with BuildSketch(Plane(origin=(0, 0, 0), x_dir=(-1, 0, 0), z_dir=(0, 0, -1))):
        with Locations((-153.85903462, -34.88)):
            Circle(ESQUISSE9_R)
        with Locations((-105.63903462, -36.11)):
            Circle(ESQUISSE9_R)
        with Locations((-105.63903462, 46.36)):
            Circle(ESQUISSE9_R)
        with Locations((-153.85903462, 40)):
            Circle(ESQUISSE9_R)
    extrude(amount=-ENL_V_MAT_EXTRU_8_DEPTH, mode=Mode.SUBTRACT)

    # Esquisse10 → Enlèv. mat.-Extru.9 (cut, through all)
    with BuildSketch(Plane(origin=(0, 0, 0), x_dir=(-1, 0, 0), z_dir=(0, 0, -1))):
        with Locations((-192.775, -0.005)):
            Rectangle(ESQUISSE10_W, ESQUISSE10_H)
    extrude(amount=-ENL_V_MAT_EXTRU_9_DEPTH, mode=Mode.SUBTRACT)

    # Esquisse11 → Enlèv. mat.-Extru.10 (cut, through all)
    with BuildSketch(Plane(origin=(0, 0, 0), x_dir=(-1, 0, 0), z_dir=(0, 0, -1))):
        with Locations((-355, 0)):
            Rectangle(ESQUISSE11_W, ESQUISSE11_H)
        with Locations((-65, 0)):
            Rectangle(ESQUISSE11_W, ESQUISSE11_H)
    extrude(amount=-ENL_V_MAT_EXTRU_10_DEPTH, mode=Mode.SUBTRACT)

    # Esquisse12 → Enlèv. mat.-Extru.11 (cut, through all)
    with BuildSketch(Plane.XY.offset(5.6)):
        with Locations((131.819805153, 77.67766953)):
            Circle(ESQUISSE12_R)
        with Locations((114.142135624, 60)):
            Circle(ESQUISSE12_R)
        with Locations(Location((285.857864376, 60, 0), (0, 0, 180))):
            Circle(ESQUISSE12_R)
        with Locations(Location((268.180194847, 77.67766953, 0), (0, 0, 180))):
            Circle(ESQUISSE12_R)
        with Locations((285.857864376, -60)):
            Circle(ESQUISSE12_R)
        with Locations((268.180194847, -77.67766953)):
            Circle(ESQUISSE12_R)
        with Locations(Location((131.819805153, -77.67766953, 0), (0, 0, 180))):
            Circle(ESQUISSE12_R)
        with Locations(Location((114.142135624, -60, 0), (0, 0, 180))):
            Circle(ESQUISSE12_R)
    extrude(amount=-ENL_V_MAT_EXTRU_11_DEPTH, mode=Mode.SUBTRACT)

    # Fillet1
    fillet1_edges = [part.edges().sort_by_distance(p)[0] for p in [
        (0, 60, 2.8),
        (400, 60, 2.8),
        (0, -60, 2.8),
        (400, -60, 2.8),
    ]]
    fillet(fillet1_edges, radius=FILLET1_R)

    # Fillet2
    fillet2_edges = [part.edges().sort_by_distance(p)[0] for p in [
        (100, 60, 2.8),
        (300, 60, 2.8),
        (250, 110, 2.8),
        (150, 110, 2.8),
        (300, -60, 2.8),
        (250, -110, 2.8),
        (150, -110, 2.8),
        (100, -60, 2.8),
    ]]
    fillet(fillet2_edges, radius=FILLET2_R)


solid = part.part
